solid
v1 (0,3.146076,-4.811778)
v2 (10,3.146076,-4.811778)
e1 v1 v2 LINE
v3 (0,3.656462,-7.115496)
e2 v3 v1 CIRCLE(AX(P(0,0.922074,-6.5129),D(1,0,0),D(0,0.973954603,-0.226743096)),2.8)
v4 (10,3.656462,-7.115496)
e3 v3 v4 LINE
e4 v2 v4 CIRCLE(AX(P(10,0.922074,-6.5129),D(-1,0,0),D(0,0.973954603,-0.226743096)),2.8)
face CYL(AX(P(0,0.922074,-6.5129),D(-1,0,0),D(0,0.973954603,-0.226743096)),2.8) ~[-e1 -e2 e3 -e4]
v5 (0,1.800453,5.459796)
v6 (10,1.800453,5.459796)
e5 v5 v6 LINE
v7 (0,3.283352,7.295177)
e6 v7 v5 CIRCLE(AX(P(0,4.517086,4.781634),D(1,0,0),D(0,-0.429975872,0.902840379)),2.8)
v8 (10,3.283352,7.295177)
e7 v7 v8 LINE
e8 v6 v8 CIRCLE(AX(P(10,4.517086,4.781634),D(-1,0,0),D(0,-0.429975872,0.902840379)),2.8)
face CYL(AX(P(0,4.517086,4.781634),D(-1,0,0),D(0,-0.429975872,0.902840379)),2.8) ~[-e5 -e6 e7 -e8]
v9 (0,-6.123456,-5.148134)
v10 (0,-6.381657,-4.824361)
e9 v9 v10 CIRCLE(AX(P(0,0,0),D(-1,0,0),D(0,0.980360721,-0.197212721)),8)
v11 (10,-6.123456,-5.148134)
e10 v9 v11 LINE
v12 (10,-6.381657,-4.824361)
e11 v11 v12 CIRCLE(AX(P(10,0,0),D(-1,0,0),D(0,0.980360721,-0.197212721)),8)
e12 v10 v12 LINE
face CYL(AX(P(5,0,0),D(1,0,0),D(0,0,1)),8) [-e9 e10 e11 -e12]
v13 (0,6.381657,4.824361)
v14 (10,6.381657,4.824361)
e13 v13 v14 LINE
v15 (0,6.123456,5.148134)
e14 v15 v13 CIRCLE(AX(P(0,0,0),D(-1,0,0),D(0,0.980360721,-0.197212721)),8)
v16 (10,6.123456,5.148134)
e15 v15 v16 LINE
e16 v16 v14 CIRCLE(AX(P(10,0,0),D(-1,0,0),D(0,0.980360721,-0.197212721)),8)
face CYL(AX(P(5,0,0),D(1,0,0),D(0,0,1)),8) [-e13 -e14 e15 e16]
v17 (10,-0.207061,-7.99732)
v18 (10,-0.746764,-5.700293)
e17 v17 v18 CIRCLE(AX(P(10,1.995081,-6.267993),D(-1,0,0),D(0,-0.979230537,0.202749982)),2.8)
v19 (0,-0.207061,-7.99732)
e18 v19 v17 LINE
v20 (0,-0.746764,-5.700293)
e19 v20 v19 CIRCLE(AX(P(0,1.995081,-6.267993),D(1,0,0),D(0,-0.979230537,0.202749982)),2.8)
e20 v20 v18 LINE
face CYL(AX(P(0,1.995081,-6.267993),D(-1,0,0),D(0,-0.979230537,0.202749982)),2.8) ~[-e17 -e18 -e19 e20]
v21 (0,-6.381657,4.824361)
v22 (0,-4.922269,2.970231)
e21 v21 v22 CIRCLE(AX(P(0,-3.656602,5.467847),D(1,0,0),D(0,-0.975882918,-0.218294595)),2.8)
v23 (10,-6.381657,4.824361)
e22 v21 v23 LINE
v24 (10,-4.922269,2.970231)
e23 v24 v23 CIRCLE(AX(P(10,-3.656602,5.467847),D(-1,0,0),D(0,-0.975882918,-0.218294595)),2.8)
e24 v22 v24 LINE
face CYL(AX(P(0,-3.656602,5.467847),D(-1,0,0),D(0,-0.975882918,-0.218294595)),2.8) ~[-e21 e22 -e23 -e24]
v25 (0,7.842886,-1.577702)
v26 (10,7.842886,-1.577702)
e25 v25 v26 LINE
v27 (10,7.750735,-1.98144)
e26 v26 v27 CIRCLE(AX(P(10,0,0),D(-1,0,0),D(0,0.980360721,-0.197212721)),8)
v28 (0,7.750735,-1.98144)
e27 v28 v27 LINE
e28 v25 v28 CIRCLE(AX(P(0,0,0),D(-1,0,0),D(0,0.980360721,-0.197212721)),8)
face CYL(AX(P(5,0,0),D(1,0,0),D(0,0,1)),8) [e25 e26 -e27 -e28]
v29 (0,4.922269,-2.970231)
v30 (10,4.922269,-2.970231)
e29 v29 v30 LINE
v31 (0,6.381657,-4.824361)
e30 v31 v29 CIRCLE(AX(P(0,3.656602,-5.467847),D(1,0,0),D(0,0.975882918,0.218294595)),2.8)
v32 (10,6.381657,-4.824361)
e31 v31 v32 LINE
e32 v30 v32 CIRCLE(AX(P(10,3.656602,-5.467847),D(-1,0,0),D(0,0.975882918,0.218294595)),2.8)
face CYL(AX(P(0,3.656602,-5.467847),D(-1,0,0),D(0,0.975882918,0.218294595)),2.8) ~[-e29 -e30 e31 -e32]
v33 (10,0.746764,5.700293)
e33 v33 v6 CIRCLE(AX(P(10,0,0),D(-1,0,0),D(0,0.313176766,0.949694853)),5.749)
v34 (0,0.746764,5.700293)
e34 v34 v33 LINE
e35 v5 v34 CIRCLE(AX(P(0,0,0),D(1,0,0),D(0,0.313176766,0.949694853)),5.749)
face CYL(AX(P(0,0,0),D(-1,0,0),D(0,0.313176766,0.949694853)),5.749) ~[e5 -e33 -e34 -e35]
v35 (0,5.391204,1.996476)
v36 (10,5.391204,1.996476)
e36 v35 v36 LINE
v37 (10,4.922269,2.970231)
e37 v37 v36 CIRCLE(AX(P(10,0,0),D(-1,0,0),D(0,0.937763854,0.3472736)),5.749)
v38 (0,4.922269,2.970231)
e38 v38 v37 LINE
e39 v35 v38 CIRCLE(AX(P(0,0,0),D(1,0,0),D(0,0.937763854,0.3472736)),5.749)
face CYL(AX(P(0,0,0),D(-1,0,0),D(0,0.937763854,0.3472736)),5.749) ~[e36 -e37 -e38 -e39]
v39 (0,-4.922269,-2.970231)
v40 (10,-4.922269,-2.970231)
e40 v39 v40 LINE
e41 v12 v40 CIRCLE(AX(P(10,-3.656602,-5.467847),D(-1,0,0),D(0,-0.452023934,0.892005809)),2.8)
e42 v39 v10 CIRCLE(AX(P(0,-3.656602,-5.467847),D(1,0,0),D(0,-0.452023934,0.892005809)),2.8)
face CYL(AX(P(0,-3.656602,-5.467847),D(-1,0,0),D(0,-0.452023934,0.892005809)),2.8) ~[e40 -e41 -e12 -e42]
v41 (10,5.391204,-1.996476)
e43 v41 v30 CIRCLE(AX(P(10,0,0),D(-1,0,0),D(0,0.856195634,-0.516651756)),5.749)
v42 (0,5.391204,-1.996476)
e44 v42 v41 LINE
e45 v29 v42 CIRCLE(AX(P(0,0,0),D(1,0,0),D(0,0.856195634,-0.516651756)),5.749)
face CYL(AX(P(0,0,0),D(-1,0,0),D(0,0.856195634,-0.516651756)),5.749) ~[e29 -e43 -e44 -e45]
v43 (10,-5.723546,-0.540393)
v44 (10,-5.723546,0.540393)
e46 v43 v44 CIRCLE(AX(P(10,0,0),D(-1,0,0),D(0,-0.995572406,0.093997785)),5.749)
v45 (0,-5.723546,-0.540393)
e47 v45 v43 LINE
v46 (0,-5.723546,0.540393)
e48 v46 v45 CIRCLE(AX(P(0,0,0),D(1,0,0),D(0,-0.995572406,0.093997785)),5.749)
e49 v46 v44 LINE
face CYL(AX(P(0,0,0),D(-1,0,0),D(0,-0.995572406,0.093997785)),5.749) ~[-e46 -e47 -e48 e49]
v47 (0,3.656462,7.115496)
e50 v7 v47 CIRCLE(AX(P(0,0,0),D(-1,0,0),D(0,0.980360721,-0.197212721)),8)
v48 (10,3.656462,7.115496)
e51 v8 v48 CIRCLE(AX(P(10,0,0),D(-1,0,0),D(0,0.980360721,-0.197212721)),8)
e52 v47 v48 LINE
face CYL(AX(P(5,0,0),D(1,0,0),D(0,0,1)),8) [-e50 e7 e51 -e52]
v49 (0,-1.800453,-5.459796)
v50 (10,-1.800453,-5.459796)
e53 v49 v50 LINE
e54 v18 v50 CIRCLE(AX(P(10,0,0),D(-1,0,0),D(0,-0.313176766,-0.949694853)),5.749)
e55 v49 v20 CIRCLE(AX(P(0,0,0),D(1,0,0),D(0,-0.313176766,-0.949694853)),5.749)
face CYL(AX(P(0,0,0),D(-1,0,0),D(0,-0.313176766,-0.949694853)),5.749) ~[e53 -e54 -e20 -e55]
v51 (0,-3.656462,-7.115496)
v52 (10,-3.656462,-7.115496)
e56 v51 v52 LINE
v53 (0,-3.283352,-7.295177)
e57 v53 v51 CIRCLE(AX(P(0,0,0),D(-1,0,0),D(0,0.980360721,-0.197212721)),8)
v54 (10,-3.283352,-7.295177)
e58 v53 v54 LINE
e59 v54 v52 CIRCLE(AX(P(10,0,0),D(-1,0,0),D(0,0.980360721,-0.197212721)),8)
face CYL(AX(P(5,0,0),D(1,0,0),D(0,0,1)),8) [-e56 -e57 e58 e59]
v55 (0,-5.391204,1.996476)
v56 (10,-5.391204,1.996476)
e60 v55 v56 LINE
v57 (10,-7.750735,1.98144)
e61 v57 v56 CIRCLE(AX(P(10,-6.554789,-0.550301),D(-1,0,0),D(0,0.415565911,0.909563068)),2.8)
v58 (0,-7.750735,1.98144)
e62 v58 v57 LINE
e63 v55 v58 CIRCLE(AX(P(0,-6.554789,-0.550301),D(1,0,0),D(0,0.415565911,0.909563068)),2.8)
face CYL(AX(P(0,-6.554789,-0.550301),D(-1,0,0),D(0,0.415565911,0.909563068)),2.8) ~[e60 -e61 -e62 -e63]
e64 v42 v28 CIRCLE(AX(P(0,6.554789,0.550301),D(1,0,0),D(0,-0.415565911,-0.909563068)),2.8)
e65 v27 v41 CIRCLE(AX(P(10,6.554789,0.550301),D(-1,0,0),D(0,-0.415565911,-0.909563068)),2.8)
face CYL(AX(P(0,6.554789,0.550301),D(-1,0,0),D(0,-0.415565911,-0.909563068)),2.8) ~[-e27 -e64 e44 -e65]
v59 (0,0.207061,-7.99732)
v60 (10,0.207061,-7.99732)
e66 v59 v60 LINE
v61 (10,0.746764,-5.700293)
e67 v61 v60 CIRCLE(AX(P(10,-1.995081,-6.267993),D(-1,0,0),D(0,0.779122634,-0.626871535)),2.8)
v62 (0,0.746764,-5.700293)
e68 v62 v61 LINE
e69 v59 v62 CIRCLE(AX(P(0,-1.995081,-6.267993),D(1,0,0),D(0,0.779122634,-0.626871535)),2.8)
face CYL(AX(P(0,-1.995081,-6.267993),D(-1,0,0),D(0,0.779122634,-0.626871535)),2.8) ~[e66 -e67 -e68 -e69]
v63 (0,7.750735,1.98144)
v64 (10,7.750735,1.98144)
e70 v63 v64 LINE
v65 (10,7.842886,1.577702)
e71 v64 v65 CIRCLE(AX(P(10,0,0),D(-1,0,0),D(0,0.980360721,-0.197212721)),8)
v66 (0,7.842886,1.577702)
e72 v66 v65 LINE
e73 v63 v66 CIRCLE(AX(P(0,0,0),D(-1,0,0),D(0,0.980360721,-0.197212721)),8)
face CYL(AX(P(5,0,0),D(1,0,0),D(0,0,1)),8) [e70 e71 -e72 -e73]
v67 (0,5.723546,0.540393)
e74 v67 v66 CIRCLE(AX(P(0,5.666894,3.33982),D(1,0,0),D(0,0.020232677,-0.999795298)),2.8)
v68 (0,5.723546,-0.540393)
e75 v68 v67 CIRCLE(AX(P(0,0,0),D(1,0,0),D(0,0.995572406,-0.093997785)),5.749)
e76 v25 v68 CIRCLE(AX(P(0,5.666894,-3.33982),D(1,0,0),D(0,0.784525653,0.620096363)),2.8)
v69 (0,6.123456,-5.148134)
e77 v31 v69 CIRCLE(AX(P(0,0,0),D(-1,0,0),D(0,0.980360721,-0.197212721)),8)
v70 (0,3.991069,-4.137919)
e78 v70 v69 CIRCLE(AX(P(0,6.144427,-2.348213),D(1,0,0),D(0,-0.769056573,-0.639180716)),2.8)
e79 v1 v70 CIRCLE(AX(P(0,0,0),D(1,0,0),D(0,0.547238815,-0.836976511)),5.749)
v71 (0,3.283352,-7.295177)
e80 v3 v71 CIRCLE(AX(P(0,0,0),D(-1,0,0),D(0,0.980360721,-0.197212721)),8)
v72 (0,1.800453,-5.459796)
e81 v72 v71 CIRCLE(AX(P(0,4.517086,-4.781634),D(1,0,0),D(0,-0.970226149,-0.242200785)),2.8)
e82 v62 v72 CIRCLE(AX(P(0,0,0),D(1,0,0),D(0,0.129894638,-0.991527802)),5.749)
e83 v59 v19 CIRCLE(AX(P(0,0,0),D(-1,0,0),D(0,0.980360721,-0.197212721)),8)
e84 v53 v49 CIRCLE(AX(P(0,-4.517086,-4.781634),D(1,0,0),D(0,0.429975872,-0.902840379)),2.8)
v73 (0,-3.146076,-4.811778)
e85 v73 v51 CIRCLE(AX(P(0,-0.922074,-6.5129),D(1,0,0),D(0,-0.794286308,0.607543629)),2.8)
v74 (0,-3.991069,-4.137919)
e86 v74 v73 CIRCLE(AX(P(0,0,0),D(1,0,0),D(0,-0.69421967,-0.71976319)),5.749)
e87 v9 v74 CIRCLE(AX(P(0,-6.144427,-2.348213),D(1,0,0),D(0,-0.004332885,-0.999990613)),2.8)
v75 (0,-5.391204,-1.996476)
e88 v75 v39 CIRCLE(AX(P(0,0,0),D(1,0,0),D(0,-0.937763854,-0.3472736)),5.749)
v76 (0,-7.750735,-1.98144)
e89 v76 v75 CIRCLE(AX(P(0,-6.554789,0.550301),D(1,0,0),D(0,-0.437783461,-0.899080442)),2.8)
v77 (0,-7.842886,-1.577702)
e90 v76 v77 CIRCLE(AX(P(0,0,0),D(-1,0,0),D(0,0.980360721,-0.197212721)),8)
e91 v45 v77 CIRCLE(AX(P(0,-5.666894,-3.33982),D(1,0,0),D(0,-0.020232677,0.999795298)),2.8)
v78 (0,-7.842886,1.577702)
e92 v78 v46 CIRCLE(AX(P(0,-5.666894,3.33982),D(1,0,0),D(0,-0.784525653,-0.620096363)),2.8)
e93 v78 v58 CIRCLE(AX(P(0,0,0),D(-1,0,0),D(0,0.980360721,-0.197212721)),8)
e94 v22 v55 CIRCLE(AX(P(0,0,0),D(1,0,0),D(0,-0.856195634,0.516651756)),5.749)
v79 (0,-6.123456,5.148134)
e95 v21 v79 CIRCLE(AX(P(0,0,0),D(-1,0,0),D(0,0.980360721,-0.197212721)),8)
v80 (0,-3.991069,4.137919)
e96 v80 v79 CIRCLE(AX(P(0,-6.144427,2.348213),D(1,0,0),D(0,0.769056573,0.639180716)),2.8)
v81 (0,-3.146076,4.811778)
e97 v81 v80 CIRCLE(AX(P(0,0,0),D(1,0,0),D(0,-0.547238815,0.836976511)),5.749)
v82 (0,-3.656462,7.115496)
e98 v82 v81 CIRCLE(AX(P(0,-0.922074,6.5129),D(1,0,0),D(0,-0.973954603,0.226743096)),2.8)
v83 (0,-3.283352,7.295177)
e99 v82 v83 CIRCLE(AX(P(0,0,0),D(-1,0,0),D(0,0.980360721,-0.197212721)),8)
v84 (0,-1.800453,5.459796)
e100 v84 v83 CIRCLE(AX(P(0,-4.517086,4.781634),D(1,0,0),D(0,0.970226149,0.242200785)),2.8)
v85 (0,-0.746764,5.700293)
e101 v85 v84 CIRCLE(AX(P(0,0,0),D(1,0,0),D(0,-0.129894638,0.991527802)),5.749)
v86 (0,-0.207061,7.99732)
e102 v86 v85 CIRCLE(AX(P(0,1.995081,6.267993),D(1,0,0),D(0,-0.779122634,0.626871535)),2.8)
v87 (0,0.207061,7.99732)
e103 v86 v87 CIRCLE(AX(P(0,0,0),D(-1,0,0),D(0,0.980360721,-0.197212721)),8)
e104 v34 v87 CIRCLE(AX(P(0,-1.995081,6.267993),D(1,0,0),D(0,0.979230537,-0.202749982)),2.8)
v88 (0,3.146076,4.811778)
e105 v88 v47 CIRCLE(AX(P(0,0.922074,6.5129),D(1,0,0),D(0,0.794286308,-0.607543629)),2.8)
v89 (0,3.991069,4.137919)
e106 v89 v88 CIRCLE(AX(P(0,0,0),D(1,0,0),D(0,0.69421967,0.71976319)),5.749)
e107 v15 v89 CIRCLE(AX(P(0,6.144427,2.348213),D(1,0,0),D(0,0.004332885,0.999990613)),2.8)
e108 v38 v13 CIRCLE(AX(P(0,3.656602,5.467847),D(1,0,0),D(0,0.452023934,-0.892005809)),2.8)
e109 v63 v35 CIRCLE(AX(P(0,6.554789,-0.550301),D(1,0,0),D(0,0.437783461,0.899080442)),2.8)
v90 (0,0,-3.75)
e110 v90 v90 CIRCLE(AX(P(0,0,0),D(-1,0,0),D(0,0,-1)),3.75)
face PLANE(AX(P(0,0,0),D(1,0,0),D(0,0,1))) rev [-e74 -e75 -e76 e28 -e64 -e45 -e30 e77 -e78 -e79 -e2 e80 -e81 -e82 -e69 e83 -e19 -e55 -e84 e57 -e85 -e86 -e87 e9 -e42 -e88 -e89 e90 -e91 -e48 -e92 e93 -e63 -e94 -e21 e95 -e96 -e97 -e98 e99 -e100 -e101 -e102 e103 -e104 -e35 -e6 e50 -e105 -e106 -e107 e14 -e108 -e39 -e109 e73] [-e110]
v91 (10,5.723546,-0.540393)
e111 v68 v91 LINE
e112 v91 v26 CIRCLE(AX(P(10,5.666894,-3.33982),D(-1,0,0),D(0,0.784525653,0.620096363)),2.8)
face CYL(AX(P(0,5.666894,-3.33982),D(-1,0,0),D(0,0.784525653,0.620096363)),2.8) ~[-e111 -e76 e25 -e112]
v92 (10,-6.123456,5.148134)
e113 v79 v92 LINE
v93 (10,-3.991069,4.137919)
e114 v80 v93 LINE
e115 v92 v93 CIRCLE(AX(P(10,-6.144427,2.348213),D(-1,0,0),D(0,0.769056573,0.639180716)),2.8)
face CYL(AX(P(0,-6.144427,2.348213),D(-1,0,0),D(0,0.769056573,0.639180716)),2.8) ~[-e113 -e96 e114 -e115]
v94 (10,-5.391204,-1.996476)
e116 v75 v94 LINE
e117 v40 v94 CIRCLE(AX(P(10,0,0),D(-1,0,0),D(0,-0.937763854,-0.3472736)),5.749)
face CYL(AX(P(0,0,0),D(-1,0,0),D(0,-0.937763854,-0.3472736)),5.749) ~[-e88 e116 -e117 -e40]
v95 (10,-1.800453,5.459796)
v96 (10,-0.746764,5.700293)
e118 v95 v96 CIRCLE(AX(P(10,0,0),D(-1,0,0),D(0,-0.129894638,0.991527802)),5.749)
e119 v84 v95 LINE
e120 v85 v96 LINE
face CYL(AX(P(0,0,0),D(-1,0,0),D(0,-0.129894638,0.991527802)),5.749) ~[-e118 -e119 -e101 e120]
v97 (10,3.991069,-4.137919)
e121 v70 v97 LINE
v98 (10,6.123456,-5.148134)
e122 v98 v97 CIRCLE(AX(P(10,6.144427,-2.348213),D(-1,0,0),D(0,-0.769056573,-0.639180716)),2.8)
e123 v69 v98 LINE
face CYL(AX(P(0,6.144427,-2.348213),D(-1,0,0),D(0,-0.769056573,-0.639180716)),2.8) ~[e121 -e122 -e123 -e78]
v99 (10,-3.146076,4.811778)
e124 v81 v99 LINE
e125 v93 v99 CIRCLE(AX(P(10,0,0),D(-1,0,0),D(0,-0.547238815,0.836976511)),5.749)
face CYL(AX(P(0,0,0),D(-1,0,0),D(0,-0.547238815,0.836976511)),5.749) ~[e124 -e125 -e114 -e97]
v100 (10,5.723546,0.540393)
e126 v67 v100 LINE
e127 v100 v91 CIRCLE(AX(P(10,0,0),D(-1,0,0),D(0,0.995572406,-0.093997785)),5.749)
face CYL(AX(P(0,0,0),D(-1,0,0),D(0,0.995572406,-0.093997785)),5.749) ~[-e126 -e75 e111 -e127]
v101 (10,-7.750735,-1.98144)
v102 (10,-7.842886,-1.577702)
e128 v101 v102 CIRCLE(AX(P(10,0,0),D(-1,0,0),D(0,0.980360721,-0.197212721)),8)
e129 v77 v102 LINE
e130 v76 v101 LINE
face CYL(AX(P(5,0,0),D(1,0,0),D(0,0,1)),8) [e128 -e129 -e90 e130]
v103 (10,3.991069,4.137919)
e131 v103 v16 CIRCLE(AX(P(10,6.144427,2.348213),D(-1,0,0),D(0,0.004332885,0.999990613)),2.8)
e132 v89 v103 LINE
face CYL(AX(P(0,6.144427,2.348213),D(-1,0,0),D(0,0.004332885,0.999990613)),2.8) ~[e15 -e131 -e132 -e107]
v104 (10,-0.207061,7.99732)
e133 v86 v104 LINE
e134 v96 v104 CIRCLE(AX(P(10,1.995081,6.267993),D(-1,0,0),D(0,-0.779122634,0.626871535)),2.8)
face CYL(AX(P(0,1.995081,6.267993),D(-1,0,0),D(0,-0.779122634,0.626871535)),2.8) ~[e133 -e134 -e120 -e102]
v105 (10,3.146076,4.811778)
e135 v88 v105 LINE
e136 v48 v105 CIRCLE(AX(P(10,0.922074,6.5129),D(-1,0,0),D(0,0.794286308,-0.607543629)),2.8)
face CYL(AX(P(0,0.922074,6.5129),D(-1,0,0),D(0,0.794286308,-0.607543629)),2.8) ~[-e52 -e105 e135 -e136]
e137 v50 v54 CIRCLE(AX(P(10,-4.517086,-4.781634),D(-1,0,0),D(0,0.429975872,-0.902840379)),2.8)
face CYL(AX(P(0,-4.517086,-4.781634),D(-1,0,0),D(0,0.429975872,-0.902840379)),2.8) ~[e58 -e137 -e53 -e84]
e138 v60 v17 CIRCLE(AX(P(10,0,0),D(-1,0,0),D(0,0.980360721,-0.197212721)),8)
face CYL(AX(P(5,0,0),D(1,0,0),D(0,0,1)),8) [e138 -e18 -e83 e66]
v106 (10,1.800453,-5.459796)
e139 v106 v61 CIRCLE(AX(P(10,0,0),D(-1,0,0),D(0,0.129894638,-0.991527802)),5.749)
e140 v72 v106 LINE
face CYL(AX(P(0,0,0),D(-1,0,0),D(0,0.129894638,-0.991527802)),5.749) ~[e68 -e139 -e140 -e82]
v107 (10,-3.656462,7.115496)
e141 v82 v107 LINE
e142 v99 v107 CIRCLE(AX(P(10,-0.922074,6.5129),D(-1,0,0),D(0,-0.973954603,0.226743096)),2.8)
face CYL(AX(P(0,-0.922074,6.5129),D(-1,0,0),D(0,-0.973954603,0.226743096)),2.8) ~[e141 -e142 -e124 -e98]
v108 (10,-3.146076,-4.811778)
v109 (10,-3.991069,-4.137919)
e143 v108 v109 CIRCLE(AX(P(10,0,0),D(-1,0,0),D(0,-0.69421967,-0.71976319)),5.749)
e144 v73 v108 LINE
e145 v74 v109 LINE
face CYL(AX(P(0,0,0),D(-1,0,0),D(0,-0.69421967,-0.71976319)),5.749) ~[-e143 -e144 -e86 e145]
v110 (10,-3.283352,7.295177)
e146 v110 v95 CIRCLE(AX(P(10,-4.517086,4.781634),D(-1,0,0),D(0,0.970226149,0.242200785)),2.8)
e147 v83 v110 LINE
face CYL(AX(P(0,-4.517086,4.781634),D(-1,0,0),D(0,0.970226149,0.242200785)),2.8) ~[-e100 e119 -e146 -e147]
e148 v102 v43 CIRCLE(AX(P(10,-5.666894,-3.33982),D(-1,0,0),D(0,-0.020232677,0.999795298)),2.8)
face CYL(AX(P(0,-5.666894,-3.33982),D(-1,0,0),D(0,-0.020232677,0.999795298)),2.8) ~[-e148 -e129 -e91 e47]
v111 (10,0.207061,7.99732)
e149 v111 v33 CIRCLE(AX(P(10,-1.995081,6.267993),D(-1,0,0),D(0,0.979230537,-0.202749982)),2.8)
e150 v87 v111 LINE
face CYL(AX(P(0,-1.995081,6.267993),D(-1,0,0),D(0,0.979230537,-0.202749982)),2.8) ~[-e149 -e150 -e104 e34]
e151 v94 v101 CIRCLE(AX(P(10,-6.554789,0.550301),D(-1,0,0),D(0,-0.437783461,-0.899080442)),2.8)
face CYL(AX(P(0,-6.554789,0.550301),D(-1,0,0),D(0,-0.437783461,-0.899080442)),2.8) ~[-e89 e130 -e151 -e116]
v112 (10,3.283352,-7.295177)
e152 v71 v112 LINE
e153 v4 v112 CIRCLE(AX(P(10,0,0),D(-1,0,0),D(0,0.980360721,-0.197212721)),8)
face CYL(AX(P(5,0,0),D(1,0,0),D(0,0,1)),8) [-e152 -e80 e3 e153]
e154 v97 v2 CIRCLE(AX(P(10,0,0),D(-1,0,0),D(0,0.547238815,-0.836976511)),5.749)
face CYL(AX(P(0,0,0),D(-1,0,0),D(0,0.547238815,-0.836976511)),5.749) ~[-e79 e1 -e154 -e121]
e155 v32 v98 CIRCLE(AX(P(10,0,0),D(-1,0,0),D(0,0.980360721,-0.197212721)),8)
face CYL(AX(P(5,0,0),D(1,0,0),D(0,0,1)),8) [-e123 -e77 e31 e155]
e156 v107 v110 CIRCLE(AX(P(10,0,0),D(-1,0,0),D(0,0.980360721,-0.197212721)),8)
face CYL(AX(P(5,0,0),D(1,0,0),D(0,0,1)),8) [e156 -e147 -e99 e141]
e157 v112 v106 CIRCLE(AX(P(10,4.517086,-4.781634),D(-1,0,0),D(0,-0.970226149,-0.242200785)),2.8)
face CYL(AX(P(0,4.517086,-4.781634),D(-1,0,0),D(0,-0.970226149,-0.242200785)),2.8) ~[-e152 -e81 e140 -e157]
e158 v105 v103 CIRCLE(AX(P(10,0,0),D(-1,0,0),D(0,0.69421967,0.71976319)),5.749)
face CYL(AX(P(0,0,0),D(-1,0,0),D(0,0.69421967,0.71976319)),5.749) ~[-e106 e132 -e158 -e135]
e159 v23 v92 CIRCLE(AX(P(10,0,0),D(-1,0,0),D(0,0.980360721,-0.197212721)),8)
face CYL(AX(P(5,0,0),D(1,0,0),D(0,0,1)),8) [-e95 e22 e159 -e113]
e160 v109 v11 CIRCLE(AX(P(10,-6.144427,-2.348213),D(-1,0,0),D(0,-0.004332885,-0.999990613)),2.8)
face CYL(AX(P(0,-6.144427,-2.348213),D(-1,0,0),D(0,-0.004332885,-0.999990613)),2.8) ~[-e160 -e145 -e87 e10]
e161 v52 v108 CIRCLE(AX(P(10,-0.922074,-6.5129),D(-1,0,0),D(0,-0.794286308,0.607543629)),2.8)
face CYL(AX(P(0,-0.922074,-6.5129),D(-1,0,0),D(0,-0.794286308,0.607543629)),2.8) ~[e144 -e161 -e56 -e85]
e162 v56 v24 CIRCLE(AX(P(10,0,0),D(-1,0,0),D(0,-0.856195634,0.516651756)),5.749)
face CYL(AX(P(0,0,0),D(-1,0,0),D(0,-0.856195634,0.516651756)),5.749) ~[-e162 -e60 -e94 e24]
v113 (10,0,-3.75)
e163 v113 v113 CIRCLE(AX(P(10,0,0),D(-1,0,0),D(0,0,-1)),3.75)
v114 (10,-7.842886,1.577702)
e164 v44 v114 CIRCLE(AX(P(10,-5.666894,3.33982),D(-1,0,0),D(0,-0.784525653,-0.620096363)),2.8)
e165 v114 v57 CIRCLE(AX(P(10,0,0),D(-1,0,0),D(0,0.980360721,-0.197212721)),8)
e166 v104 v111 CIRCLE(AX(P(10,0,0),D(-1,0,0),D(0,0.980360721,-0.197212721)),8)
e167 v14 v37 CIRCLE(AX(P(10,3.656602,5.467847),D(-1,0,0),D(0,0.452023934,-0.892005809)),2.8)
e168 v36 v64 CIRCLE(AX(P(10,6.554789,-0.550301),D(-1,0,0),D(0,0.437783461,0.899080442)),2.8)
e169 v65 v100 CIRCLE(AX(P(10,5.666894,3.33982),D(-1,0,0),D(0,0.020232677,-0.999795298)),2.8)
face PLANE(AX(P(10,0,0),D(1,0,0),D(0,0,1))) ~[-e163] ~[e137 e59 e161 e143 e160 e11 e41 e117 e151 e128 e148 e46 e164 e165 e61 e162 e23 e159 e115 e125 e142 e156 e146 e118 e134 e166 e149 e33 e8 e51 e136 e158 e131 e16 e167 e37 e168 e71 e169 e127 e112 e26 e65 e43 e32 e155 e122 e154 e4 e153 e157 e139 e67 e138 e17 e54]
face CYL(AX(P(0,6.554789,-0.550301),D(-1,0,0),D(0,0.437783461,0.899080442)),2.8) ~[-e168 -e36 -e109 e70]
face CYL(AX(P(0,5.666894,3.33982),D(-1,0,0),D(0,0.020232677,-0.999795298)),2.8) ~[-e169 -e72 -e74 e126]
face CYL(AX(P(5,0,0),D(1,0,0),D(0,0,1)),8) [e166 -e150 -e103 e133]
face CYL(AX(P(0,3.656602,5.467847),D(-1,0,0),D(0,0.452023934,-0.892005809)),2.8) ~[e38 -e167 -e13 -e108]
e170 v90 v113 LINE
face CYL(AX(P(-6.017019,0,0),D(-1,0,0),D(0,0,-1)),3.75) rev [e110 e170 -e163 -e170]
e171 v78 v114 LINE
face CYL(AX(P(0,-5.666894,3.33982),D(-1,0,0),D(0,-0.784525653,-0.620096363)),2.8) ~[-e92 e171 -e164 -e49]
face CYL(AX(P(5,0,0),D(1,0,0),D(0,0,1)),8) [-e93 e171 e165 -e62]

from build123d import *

# Parameters (mm, degrees)
BASPROSKE_W             = 10
BASPROSKE_H             = 8
TOOTHCUT_DEPTH          = 16.099668871
TEETHCUTS_COUNT         = 14
TEETHCUTS_ANGLE         = 334.285714286
BORSKE_R                = 0.5
BORE_DEPTH              = 50.0000508
CUT_EXTRUDE1_DEPTH      = 16.017018917
CUT_EXTRUDE2_DEPTH      = 16.017018917
CUT_EXTRUDE2_DEPTH_BACK = 16.017018917
SKETCH2_R               = 3.75


with BuildPart() as part:
    # BasProSke → Base-Revolve (revolve)
    with BuildSketch(Plane(origin=(0, 0, 0), x_dir=(1, 0, 0), z_dir=(0, 1, 0)), mode=Mode.PRIVATE) as base_revolve_sk:
        with Locations((5, 4)):
            Rectangle(BASPROSKE_W, BASPROSKE_H)
    revolve(base_revolve_sk.sketch.rotate(Axis((-10, 0, 0), (1, 0, 0)), 180), axis=Axis((-10, 0, 0), (1, 0, 0)))

    # TooCutSke → ToothCut (cut, through all)
    with BuildSketch(Plane(origin=(0, 0, 0), x_dir=(0, 0, -1), z_dir=(1, 0, 0))):
        with BuildLine():
            ThreePointArc((0.540393256, 5.723545765), (0, 5.749), (-0.540393256, 5.723545765))
            ThreePointArc((-0.540393256, 5.723545765), (-0.832220085, 6.912663993), (-1.603550271, 7.863566092))
            ThreePointArc((-1.603550271, 7.863566092), (0, 8.0254), (1.603550271, 7.863566092))
            ThreePointArc((1.603550271, 7.863566092), (0.832220085, 6.912663993), (0.540393256, 5.723545765))
        make_face()
    toothcut = extrude(amount=TOOTHCUT_DEPTH, mode=Mode.SUBTRACT)

    # TeethCuts: ToothCut ×14 about axis
    teethcuts_axis = Axis((-10, 0, 0), (1, 0, 0))
    for i in range(1, TEETHCUTS_COUNT):
        add(toothcut.rotate(teethcuts_axis, i * TEETHCUTS_ANGLE / (TEETHCUTS_COUNT - 1)), mode=Mode.SUBTRACT)

    # BorSke → Bore (cut, symmetric)
    with BuildSketch(Plane(origin=(0, 0, 0), x_dir=(0, 0, -1), z_dir=(1, 0, 0))):
        with Locations(Location((0, 0, 0), (0, 0, 180))):
            Circle(BORSKE_R)
    extrude(amount=BORE_DEPTH, both=True, mode=Mode.SUBTRACT)

    # Sketch1 → Cut-Extrude1 (cut, through all)
    with BuildSketch(Plane(origin=(10, 0, 0), x_dir=(0, 0, -1), z_dir=(1, 0, 0))):
        Polygon((-1.125, -1.125), (-1.125, -3.375), (1.125, -3.375), (1.125, -1.125), (3.375, -1.125), (3.375, 1.125), (1.125, 1.125), (1.125, 3.375), (-1.125, 3.375), (-1.125, 1.125), (-3.375, 1.125), (-3.375, -1.125), align=None)
    extrude(amount=-CUT_EXTRUDE1_DEPTH, mode=Mode.SUBTRACT)

    # Sketch2 → Cut-Extrude2 (cut, two sides: drawn at the far end of the back side and taken through both)
    with BuildSketch(Plane(origin=(10, 0, 0), x_dir=(0, 0, -1), z_dir=(1, 0, 0)).offset(-CUT_EXTRUDE2_DEPTH_BACK)):
        Circle(SKETCH2_R)
    extrude(amount=CUT_EXTRUDE2_DEPTH + CUT_EXTRUDE2_DEPTH_BACK, mode=Mode.SUBTRACT)


solid = part.part
